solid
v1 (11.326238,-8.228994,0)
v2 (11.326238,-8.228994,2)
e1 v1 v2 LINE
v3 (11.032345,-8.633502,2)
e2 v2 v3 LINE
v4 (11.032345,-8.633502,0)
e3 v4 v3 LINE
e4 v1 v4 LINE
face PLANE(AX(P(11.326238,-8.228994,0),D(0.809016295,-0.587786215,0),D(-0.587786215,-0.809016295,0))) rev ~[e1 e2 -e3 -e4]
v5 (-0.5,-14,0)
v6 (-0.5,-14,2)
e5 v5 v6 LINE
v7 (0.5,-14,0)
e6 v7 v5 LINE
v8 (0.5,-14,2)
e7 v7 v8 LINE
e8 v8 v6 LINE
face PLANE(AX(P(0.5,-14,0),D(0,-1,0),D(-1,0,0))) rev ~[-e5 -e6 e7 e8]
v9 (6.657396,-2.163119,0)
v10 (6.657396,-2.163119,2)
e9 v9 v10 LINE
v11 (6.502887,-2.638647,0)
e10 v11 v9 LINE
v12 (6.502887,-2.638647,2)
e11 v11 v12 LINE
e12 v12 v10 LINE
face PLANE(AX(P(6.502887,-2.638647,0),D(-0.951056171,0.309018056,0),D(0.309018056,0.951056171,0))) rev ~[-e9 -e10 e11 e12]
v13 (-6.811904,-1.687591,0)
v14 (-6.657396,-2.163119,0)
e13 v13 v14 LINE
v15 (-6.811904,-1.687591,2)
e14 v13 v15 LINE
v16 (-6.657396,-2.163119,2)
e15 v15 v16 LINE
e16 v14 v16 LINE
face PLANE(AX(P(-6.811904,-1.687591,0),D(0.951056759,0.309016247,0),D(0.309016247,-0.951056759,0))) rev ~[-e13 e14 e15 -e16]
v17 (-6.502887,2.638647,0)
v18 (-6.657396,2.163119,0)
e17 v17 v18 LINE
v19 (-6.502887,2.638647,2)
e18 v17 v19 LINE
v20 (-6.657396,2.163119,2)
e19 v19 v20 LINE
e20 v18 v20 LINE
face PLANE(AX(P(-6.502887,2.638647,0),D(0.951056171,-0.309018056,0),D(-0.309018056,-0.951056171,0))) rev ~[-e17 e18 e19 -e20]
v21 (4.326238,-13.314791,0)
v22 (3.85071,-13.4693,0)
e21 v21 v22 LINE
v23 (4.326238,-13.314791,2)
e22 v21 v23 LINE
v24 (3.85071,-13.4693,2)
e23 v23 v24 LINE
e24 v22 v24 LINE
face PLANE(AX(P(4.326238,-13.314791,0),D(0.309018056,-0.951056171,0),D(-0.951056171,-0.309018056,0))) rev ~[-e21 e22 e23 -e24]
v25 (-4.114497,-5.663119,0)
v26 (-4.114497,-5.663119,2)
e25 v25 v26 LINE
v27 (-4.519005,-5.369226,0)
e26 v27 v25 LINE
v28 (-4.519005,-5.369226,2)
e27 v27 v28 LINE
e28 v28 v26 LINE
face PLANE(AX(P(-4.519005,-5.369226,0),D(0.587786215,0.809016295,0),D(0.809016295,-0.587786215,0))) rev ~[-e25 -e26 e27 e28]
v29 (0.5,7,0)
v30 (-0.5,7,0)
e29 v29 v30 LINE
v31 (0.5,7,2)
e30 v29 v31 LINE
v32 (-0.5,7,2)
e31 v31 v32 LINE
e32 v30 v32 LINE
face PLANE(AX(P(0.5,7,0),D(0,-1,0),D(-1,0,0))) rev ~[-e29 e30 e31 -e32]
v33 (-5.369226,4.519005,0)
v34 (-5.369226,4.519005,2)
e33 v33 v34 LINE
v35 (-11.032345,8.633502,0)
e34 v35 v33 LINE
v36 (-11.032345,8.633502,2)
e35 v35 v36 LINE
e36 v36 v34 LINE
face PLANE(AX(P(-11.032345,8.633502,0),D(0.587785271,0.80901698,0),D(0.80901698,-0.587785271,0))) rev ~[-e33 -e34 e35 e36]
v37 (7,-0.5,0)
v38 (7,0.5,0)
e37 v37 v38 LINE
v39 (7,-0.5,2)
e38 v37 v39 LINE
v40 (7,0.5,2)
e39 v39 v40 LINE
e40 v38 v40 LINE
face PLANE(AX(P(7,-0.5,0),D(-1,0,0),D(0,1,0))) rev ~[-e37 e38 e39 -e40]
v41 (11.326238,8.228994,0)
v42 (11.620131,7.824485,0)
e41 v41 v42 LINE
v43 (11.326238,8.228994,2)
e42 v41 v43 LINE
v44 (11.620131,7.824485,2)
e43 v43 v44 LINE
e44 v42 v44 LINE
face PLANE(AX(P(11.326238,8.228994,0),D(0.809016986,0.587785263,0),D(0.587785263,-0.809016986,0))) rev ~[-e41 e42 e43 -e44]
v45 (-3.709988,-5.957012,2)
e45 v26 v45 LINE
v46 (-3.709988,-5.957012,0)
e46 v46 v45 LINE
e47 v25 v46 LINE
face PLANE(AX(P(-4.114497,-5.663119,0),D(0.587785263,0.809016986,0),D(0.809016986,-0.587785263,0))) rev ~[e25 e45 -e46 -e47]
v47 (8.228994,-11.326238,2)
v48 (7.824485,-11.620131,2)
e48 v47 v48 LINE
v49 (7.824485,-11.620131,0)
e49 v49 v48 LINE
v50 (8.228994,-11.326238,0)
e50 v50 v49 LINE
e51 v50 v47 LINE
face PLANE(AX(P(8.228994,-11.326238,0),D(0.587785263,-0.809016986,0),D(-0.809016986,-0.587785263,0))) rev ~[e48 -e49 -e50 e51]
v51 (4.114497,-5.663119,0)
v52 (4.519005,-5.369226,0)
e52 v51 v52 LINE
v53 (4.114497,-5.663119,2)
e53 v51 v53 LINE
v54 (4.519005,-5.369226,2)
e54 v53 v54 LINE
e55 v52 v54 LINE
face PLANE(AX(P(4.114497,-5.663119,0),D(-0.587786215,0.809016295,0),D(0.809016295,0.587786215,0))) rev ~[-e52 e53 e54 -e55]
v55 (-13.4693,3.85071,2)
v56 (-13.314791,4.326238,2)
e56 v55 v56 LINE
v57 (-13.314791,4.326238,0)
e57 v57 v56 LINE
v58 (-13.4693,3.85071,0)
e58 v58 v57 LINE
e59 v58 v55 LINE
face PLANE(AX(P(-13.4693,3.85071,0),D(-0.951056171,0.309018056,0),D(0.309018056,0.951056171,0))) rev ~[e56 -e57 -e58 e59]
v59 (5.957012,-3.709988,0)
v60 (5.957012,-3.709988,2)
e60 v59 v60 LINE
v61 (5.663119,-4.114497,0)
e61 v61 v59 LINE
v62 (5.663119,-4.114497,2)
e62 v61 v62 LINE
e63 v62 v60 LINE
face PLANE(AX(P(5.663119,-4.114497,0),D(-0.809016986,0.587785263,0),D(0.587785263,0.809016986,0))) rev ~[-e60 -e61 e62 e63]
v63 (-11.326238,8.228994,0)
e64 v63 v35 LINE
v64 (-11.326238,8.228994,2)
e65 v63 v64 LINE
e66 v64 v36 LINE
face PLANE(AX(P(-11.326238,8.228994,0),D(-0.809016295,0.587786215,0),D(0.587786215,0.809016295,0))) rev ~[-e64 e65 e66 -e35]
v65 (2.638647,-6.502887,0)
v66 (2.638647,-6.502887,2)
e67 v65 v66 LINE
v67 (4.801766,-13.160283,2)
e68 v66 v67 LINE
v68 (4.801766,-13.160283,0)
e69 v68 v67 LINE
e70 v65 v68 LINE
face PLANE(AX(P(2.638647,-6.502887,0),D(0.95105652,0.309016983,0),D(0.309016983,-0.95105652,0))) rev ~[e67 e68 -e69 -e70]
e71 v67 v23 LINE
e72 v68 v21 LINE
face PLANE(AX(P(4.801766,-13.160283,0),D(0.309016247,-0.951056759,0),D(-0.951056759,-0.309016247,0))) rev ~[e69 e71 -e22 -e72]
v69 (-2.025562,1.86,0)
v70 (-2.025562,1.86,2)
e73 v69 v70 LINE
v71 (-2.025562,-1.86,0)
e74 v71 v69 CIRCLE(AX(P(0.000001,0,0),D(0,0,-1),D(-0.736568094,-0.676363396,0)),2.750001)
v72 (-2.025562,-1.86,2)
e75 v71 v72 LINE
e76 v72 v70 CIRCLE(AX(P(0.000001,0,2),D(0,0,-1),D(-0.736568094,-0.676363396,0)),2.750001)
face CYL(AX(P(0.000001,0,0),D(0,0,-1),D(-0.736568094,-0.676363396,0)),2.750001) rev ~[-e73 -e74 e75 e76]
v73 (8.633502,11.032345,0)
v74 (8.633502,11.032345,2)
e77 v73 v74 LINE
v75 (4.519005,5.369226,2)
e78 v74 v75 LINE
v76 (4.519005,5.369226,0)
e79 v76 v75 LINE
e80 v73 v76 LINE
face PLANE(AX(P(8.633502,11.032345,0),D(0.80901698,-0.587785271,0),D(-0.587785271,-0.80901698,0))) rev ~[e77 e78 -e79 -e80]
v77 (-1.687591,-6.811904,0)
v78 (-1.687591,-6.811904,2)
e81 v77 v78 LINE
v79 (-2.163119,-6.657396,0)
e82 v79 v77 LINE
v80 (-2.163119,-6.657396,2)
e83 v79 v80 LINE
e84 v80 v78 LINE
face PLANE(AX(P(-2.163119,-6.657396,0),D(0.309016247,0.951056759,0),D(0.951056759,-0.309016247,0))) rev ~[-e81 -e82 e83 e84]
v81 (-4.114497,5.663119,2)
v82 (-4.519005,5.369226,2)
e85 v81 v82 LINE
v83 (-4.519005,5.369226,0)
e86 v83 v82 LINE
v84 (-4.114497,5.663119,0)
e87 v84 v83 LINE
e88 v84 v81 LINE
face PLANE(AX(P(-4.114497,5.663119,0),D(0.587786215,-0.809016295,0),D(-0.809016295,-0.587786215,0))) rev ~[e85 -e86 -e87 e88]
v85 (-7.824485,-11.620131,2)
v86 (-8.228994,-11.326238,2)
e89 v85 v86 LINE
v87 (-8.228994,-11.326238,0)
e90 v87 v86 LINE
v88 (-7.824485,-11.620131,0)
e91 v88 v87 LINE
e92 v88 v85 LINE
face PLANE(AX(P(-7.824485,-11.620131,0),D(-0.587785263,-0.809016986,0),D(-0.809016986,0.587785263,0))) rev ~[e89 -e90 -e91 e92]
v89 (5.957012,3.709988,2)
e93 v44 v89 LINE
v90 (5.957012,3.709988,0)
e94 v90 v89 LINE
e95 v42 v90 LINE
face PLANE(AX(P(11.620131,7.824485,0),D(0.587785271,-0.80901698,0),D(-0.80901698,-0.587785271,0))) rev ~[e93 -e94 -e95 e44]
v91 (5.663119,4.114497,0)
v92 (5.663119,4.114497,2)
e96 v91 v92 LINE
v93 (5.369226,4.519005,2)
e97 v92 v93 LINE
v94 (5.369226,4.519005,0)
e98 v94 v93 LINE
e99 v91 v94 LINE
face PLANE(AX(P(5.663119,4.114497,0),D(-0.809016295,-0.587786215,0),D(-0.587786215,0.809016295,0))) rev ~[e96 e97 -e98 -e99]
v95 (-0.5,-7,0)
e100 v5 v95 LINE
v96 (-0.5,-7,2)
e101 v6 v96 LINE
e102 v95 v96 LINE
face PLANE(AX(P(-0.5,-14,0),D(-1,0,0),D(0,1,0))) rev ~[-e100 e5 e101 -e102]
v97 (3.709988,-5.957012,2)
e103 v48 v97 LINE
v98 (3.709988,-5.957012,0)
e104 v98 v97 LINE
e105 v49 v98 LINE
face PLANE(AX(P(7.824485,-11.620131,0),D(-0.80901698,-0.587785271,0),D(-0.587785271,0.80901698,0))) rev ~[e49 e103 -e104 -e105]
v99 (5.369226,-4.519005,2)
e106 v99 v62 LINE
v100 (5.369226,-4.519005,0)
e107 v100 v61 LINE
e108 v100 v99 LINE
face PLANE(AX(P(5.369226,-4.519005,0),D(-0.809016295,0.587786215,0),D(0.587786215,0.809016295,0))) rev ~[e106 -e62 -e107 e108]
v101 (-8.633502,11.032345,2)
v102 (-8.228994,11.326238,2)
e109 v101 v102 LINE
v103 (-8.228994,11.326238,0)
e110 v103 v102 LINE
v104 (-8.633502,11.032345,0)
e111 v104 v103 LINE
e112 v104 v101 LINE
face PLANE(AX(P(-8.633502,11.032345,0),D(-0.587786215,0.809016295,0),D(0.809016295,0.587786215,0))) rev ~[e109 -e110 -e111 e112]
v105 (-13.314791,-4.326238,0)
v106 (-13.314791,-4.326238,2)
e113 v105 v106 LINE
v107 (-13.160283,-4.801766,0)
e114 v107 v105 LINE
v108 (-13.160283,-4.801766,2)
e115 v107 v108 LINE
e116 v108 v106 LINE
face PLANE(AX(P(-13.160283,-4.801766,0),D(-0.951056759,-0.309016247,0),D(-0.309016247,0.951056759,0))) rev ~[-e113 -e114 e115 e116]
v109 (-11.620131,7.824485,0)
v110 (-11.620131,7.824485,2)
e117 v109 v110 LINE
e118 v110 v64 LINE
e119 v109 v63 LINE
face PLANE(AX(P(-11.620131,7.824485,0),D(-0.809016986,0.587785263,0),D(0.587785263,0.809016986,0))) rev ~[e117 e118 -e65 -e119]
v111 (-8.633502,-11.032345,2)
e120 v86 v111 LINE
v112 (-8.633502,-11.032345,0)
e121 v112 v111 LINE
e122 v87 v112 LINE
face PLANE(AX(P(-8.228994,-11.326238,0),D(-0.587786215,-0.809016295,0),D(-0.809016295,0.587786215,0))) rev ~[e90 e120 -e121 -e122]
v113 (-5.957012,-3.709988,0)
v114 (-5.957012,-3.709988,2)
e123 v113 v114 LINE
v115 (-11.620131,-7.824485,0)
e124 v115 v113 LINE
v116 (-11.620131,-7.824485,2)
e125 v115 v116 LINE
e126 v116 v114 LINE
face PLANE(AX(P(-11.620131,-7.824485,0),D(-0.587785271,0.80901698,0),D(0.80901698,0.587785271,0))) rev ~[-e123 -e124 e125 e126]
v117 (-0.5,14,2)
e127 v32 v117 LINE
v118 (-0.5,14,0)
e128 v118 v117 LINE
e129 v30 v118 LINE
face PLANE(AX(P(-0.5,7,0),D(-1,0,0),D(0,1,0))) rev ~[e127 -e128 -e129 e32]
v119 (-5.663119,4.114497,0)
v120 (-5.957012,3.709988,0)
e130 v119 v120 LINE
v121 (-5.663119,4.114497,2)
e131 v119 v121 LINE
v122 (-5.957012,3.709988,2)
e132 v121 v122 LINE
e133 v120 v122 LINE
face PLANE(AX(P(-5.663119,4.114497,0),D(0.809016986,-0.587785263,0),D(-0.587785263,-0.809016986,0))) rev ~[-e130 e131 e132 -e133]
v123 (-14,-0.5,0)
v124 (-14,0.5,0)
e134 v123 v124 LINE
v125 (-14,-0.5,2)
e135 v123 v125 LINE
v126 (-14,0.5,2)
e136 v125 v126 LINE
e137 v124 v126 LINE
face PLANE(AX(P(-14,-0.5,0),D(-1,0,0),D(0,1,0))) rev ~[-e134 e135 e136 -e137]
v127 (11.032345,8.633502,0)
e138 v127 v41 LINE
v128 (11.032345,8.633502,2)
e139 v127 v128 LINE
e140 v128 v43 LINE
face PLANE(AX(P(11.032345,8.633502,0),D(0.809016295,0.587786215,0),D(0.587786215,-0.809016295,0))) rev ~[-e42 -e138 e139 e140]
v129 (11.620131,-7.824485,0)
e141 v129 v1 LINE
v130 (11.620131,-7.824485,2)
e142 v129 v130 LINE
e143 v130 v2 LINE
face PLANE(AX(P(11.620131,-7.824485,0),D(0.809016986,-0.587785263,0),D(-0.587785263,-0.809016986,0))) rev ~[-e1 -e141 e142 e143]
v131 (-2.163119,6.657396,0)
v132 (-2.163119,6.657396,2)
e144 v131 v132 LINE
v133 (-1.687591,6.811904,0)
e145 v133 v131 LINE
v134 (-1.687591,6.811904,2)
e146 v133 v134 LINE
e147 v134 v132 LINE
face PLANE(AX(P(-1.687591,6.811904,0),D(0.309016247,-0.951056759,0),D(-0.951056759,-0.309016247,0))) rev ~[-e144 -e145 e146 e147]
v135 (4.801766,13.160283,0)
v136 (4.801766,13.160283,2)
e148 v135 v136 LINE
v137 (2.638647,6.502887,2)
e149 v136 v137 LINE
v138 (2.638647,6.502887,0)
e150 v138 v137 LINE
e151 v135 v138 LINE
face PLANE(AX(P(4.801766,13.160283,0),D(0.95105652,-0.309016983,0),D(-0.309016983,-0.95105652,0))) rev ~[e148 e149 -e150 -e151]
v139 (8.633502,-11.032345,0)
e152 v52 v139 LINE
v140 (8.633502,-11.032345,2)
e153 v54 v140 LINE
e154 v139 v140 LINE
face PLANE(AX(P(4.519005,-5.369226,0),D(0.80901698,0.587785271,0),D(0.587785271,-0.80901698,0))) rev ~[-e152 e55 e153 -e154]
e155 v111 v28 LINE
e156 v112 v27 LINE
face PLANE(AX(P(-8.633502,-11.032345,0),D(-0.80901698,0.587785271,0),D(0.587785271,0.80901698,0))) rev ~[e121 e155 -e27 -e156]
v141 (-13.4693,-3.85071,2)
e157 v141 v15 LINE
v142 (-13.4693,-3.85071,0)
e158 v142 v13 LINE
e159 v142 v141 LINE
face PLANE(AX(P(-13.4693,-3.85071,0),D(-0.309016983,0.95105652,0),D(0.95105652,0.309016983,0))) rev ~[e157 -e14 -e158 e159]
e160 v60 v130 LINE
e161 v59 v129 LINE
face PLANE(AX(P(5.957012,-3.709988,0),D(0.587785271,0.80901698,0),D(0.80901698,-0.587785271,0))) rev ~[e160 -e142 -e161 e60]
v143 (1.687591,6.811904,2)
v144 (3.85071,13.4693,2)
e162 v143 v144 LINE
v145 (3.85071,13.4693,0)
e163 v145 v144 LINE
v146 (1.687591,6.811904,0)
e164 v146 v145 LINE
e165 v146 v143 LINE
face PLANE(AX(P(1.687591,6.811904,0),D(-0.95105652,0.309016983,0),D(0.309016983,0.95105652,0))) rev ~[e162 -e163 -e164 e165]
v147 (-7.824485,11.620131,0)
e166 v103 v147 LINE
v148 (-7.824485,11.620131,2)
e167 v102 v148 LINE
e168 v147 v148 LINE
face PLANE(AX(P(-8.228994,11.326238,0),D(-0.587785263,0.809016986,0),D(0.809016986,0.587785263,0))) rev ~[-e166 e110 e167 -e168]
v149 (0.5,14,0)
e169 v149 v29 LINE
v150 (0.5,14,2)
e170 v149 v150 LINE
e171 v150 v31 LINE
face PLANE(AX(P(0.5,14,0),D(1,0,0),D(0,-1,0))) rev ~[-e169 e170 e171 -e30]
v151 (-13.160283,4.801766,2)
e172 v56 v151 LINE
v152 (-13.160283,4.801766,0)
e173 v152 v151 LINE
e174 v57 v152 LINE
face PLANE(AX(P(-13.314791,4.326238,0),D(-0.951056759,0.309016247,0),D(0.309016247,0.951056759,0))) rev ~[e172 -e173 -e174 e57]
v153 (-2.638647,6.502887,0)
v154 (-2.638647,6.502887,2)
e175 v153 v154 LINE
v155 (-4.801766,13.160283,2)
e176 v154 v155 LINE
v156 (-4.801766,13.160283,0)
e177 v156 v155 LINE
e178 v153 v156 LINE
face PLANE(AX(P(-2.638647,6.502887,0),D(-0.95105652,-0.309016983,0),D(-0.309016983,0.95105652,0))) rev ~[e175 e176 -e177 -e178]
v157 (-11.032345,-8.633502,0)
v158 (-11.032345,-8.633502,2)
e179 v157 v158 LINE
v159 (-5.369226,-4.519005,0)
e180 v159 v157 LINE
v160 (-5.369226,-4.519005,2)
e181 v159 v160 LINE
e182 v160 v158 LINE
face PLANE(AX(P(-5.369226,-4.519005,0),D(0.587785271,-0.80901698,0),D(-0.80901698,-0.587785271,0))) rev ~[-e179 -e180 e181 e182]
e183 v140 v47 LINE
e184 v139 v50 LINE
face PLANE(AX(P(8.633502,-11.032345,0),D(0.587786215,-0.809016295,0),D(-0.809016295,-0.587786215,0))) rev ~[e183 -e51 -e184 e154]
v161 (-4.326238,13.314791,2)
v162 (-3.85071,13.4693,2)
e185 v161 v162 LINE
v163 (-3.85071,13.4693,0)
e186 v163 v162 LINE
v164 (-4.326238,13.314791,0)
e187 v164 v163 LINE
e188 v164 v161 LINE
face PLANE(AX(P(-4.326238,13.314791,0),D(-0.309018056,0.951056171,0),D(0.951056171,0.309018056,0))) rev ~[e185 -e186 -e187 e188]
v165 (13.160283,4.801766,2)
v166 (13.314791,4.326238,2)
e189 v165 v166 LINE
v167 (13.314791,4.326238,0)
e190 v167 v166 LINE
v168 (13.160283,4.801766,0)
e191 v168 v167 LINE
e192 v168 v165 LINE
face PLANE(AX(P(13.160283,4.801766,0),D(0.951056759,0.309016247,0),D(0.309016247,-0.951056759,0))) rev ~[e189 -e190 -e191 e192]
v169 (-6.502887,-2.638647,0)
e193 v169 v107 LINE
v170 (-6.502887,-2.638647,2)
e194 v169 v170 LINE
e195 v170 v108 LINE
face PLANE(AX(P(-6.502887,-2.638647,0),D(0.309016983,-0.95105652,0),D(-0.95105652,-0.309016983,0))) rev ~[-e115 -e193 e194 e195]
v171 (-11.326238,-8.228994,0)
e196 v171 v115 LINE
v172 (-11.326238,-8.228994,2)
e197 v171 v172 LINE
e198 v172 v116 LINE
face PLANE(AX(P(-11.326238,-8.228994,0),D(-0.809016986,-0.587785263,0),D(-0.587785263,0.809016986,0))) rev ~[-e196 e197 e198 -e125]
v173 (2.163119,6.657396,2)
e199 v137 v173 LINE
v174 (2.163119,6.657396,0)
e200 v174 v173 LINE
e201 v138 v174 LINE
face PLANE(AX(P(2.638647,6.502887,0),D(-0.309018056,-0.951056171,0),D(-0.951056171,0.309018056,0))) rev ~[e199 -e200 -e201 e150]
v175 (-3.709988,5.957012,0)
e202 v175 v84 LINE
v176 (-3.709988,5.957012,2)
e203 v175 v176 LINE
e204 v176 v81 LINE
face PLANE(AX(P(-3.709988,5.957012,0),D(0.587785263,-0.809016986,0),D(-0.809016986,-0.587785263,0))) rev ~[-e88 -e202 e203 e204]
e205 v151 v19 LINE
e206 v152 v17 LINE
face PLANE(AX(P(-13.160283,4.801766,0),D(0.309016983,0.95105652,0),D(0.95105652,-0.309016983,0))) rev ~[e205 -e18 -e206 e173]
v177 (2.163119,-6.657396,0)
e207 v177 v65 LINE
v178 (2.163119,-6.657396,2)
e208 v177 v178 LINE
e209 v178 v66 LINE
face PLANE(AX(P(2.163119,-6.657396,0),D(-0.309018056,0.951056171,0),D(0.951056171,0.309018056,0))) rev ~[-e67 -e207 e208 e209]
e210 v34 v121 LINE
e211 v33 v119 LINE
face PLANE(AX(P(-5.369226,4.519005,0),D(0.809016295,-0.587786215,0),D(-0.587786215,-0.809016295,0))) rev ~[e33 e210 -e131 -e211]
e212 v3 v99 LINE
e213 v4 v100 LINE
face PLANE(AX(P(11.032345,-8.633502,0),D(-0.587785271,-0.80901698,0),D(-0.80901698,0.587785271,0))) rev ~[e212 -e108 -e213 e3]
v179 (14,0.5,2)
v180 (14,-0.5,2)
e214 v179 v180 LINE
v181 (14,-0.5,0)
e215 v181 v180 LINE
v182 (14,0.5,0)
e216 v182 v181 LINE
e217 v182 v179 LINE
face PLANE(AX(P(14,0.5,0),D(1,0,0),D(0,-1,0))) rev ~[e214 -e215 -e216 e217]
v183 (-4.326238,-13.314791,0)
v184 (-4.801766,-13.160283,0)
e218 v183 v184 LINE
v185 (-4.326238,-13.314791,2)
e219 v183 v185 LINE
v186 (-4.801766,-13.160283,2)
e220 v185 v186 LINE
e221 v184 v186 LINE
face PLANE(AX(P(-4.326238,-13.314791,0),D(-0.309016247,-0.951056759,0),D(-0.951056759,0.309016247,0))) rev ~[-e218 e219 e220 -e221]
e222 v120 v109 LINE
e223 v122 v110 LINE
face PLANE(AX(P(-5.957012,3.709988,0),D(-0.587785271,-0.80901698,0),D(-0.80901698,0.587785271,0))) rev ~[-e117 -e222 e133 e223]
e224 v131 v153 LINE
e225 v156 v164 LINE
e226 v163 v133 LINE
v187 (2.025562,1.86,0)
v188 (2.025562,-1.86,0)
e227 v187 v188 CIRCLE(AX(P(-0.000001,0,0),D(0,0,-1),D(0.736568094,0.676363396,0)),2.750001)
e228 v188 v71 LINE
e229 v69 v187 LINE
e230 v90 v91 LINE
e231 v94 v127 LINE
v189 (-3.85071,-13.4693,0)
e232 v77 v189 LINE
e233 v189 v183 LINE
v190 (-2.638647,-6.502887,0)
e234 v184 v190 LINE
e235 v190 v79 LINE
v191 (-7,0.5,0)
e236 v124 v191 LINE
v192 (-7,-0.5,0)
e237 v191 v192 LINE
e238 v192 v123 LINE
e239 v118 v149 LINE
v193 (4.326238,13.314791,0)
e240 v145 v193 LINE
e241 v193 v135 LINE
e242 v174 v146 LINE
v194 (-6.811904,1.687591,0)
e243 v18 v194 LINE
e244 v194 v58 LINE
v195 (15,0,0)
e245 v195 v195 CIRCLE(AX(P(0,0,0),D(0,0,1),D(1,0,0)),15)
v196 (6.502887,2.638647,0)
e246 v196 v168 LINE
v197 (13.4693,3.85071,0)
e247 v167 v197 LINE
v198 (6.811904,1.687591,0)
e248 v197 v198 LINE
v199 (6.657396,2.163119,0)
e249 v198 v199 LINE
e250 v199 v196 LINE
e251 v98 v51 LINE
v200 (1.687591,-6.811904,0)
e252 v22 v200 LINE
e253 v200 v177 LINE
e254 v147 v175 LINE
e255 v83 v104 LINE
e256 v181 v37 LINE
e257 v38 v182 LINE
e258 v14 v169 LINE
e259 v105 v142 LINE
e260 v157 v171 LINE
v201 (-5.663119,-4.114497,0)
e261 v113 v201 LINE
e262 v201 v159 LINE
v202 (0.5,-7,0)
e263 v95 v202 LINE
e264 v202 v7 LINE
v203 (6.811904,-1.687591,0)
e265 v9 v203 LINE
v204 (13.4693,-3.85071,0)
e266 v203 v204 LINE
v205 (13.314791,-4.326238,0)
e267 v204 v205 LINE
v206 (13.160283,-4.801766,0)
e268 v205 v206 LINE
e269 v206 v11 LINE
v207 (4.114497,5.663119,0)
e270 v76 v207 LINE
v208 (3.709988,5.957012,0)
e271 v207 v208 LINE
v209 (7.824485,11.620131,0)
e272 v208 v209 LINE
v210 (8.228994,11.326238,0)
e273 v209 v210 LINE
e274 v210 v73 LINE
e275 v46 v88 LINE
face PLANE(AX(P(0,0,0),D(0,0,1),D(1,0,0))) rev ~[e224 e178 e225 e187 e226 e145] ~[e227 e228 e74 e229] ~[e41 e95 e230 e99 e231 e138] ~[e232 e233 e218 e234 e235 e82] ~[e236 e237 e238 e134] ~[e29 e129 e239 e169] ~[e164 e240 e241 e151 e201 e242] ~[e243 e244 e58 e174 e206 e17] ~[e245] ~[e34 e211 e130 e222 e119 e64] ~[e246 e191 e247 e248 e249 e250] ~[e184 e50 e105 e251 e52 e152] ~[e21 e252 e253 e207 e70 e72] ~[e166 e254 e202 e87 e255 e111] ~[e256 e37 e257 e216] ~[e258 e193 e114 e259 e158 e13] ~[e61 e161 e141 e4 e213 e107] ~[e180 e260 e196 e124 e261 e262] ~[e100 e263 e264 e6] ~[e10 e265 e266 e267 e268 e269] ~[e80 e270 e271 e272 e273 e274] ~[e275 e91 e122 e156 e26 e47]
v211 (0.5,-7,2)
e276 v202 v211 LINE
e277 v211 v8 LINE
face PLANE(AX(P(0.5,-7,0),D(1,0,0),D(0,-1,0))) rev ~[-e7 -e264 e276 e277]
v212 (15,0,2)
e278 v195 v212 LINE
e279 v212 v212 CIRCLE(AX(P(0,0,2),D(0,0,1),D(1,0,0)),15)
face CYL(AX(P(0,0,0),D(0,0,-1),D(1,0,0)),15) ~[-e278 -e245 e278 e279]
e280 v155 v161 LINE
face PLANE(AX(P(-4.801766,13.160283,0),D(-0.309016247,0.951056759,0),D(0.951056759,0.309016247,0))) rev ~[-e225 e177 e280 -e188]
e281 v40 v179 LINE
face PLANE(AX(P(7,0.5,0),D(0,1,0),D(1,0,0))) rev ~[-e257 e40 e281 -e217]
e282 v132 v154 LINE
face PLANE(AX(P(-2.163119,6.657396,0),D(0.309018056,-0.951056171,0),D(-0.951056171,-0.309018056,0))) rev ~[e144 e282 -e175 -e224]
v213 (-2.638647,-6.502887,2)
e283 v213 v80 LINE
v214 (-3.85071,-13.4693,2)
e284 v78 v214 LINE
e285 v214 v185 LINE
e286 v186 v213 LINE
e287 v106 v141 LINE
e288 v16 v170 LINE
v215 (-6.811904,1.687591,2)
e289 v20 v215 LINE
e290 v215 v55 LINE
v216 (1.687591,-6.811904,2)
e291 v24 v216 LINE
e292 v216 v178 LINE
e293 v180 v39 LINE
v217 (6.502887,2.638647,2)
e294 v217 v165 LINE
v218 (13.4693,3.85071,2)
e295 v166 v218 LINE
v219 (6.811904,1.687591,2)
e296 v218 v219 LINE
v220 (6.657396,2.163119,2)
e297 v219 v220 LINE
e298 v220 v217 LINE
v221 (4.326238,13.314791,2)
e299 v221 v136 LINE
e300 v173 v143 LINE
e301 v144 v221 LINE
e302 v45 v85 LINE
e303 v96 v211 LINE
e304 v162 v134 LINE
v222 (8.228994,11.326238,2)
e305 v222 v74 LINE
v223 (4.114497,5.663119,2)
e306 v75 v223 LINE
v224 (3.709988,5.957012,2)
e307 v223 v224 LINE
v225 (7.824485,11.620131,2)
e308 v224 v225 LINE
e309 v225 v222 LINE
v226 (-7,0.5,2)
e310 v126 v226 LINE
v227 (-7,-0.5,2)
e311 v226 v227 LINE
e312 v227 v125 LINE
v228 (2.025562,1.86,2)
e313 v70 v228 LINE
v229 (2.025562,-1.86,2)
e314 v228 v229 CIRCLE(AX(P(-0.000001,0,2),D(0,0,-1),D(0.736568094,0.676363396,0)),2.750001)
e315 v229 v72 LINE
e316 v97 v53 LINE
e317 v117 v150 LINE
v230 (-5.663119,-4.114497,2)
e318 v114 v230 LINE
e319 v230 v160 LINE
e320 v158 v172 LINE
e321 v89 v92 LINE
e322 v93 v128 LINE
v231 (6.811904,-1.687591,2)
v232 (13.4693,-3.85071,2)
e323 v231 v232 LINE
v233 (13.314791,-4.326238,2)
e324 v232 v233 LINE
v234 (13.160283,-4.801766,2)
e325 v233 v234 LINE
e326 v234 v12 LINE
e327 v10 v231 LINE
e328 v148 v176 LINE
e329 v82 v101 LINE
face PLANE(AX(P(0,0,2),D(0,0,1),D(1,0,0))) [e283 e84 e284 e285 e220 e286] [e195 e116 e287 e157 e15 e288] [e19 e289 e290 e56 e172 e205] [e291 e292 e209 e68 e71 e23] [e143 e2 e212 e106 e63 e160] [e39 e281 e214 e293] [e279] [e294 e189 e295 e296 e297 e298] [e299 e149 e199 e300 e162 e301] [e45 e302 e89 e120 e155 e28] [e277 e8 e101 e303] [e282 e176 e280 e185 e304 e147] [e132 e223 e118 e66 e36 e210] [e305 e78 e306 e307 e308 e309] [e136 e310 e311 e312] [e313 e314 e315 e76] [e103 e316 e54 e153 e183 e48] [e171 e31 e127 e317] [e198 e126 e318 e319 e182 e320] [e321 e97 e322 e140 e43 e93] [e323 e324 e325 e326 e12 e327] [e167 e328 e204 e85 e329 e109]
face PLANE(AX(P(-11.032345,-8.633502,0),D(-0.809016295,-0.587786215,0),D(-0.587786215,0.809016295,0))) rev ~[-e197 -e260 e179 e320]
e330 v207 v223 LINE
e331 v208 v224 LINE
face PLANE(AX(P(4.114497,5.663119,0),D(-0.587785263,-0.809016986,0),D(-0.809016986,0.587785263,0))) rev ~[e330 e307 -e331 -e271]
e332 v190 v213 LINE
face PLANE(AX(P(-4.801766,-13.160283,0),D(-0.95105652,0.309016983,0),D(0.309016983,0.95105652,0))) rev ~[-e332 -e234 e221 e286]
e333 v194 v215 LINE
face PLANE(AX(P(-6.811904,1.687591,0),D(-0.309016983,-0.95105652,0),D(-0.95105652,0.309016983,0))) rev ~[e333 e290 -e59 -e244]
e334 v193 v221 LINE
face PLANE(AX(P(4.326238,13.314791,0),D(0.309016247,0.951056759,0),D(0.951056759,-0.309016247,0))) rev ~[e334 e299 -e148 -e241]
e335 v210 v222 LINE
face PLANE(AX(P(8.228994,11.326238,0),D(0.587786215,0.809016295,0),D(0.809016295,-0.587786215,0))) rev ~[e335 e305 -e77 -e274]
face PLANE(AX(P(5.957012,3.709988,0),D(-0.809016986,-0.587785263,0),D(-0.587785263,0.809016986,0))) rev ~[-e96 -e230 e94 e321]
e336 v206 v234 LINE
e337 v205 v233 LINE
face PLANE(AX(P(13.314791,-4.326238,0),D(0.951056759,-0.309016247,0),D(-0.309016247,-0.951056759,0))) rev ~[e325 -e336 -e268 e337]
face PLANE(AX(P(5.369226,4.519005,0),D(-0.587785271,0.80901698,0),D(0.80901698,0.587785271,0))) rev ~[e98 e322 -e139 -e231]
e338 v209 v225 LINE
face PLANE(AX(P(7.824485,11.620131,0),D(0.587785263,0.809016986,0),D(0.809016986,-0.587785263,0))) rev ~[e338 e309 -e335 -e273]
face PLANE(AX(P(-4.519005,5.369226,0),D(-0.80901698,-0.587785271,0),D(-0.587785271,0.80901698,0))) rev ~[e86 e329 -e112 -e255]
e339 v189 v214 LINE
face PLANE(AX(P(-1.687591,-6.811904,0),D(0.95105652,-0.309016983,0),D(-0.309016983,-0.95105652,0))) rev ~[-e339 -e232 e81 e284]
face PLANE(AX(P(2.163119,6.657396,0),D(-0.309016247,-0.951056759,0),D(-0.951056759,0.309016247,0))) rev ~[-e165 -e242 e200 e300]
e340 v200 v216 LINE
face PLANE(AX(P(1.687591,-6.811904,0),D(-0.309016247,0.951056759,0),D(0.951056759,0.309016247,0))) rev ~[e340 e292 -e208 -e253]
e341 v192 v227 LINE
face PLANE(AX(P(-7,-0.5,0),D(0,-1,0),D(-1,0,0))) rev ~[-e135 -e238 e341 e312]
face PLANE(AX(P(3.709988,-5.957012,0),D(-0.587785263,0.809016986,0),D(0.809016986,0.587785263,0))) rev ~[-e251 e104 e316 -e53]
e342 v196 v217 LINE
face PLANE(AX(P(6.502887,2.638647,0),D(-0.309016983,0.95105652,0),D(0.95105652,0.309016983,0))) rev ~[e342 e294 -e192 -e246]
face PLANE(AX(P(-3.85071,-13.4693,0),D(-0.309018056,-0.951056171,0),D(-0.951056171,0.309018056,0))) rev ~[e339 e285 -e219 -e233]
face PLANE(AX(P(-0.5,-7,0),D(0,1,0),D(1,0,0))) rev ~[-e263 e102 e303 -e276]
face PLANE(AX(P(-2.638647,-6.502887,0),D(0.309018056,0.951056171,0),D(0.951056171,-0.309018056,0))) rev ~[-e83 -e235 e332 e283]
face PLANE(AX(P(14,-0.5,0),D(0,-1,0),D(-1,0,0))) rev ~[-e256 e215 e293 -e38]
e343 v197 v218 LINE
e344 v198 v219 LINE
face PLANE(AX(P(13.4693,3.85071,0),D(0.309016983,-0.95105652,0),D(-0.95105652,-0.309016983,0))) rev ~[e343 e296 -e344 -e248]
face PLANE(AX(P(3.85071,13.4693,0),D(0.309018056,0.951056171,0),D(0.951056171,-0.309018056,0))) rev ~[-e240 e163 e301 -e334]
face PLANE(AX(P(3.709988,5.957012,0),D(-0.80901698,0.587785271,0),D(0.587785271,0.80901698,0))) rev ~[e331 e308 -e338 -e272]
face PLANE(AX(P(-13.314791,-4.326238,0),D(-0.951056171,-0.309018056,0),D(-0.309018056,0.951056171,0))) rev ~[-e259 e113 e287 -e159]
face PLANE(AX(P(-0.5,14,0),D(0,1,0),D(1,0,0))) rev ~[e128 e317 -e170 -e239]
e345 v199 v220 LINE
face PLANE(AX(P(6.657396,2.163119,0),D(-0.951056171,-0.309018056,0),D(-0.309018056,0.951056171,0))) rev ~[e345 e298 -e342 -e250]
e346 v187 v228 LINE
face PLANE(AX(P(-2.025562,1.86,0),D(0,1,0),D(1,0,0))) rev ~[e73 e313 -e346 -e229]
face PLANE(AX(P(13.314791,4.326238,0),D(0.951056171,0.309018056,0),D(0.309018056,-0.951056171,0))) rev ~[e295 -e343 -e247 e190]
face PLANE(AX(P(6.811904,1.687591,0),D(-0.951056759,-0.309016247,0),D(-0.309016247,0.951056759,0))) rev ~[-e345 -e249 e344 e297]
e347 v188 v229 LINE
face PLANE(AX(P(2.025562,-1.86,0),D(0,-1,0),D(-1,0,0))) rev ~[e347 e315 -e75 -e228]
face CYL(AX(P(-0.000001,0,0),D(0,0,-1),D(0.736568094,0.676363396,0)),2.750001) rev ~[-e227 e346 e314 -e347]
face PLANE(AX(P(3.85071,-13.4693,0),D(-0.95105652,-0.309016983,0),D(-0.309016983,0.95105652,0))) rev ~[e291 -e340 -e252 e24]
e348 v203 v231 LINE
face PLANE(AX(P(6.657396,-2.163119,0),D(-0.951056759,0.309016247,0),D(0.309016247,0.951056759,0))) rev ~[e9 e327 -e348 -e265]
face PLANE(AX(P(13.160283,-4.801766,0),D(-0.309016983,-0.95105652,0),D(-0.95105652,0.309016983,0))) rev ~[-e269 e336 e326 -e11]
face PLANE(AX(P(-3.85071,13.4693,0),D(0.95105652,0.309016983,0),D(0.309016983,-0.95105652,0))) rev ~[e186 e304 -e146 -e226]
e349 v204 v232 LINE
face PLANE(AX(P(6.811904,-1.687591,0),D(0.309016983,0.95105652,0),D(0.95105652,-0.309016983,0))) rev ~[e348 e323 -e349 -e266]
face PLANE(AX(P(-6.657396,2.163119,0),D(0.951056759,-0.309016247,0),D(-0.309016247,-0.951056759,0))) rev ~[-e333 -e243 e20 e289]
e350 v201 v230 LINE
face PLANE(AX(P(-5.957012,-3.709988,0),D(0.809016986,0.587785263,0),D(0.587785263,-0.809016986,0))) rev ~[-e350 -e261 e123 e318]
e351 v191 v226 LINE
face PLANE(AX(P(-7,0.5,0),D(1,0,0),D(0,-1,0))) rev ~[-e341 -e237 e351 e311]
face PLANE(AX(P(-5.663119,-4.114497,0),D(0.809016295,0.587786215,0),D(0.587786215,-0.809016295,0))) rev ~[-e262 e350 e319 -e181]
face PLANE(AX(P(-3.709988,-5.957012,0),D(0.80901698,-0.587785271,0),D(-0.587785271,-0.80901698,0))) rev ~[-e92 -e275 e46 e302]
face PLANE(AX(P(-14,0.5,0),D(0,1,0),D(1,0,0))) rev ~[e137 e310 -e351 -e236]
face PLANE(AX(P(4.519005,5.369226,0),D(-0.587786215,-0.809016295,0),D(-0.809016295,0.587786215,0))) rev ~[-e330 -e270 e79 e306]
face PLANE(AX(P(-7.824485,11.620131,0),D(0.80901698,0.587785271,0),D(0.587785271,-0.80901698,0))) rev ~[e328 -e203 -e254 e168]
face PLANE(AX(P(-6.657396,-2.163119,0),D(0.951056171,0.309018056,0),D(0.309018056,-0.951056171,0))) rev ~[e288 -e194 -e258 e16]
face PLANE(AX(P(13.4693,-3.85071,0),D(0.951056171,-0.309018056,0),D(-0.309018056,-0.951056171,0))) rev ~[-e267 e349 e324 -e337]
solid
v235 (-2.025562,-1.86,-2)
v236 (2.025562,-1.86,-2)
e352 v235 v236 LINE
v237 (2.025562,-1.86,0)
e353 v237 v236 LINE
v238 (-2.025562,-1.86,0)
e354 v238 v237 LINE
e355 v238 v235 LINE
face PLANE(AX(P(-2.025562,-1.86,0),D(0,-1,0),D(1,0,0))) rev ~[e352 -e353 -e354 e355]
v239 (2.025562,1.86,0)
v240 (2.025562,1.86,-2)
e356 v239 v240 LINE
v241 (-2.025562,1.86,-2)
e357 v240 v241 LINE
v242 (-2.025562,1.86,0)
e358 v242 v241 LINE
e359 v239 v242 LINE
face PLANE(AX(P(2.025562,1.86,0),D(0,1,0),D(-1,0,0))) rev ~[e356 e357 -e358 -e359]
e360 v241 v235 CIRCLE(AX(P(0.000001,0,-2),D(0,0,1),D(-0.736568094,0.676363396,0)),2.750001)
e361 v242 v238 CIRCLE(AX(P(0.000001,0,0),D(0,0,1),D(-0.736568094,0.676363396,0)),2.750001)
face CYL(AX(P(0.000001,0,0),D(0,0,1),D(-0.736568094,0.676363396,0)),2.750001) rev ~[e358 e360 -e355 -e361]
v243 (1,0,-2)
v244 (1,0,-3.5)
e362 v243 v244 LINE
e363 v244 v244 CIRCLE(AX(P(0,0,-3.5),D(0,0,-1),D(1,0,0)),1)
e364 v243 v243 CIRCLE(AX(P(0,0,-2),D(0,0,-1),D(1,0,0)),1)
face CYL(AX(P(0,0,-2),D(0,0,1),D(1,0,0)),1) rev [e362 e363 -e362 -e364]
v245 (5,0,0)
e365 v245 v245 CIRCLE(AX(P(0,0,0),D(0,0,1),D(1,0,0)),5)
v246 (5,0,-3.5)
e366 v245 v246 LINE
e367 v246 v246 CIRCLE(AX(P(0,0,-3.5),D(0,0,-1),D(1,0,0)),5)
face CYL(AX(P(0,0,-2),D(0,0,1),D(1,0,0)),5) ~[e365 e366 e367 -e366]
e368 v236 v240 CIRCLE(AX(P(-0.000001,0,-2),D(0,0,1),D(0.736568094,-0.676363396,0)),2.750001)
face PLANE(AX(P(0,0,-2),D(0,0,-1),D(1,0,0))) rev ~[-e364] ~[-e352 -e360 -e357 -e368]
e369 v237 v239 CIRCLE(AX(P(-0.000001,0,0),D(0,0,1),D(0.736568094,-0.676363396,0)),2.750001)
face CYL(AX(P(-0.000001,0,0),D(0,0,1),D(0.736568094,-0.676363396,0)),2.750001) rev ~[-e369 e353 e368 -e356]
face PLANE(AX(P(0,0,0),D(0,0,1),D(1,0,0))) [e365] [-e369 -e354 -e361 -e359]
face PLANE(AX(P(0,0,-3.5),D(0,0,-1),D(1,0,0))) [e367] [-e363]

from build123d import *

# Parameters (mm, degrees)
F0_R     = 15
F1_DEPTH = 2
F2_R     = 5
F3_DEPTH = 2
F4_DEPTH = 2
F5_R     = 5
F5_R_2   = 1
F6_DEPTH = 1.5


with BuildPart() as f1:
    # F0 (on Top) → F1 (new body)
    with BuildSketch(Plane.XY):
        Circle(F0_R)
        Polygon((-8.633502, -11.032345), (-4.519005, -5.369226), (-4.114497, -5.663119), (-3.709988, -5.957012), (-7.824485, -11.620131), (-8.228994, -11.326238), align=None, mode=Mode.SUBTRACT)
        Polygon((-4.801766, -13.160283), (-2.638647, -6.502887), (-2.163119, -6.657396), (-1.687591, -6.811904), (-3.85071, -13.4693), (-4.326238, -13.314791), align=None, mode=Mode.SUBTRACT)
        Polygon((-11.620131, -7.824485), (-5.957012, -3.709988), (-5.663119, -4.114497), (-5.369226, -4.519005), (-11.032345, -8.633502), (-11.326238, -8.228994), align=None, mode=Mode.SUBTRACT)
        Polygon((-13.4693, -3.85071), (-6.811904, -1.687591), (-6.657396, -2.163119), (-6.502887, -2.638647), (-13.160283, -4.801766), (-13.314791, -4.326238), align=None, mode=Mode.SUBTRACT)
        Polygon((-0.5, -7), (0, -7), (0.5, -7), (0.5, -14), (0, -14), (-0.5, -14), align=None, mode=Mode.SUBTRACT)
        Polygon((3.85071, -13.4693), (1.687591, -6.811904), (2.163119, -6.657396), (2.638647, -6.502887), (4.801766, -13.160283), (4.326238, -13.314791), align=None, mode=Mode.SUBTRACT)
        Polygon((7.824485, -11.620131), (3.709988, -5.957012), (4.114497, -5.663119), (4.519005, -5.369226), (8.633502, -11.032345), (8.228994, -11.326238), align=None, mode=Mode.SUBTRACT)
        Polygon((11.032345, -8.633502), (5.369226, -4.519005), (5.663119, -4.114497), (5.957012, -3.709988), (11.620131, -7.824485), (11.326238, -8.228994), align=None, mode=Mode.SUBTRACT)
        Polygon((13.160283, -4.801766), (6.502887, -2.638647), (6.657396, -2.163119), (6.811904, -1.687591), (13.4693, -3.85071), (13.314791, -4.326238), align=None, mode=Mode.SUBTRACT)
        Polygon((-14, 0.5), (-7, 0.5), (-7, 0), (-7, -0.5), (-14, -0.5), (-14, 0), align=None, mode=Mode.SUBTRACT)
        Polygon((-13.160283, 4.801766), (-6.502887, 2.638647), (-6.657396, 2.163119), (-6.811904, 1.687591), (-13.4693, 3.85071), (-13.314791, 4.326238), align=None, mode=Mode.SUBTRACT)
        Polygon((-11.032345, 8.633502), (-5.369226, 4.519005), (-5.663119, 4.114497), (-5.957012, 3.709988), (-11.620131, 7.824485), (-11.326238, 8.228994), align=None, mode=Mode.SUBTRACT)
        Polygon((-7.824485, 11.620131), (-3.709988, 5.957012), (-4.114497, 5.663119), (-4.519005, 5.369226), (-8.633502, 11.032345), (-8.228994, 11.326238), align=None, mode=Mode.SUBTRACT)
        Polygon((-3.85071, 13.4693), (-1.687591, 6.811904), (-2.163119, 6.657396), (-2.638647, 6.502887), (-4.801766, 13.160283), (-4.326238, 13.314791), align=None, mode=Mode.SUBTRACT)
        with BuildLine():
            ThreePointArc((-2.025562, -1.86), (-2.75, 0), (-2.025562, 1.86))
            Line((-2.025562, 1.86), (2.025562, 1.86))
            ThreePointArc((2.025562, 1.86), (2.75, 0), (2.025562, -1.86))
            Line((2.025562, -1.86), (-2.025562, -1.86))
        make_face(mode=Mode.SUBTRACT)
        Polygon((14, -0.5), (7, -0.5), (7, 0), (7, 0.5), (14, 0.5), (14, 0), align=None, mode=Mode.SUBTRACT)
        Polygon((13.4693, 3.85071), (6.811904, 1.687591), (6.657396, 2.163119), (6.502887, 2.638647), (13.160283, 4.801766), (13.314791, 4.326238), align=None, mode=Mode.SUBTRACT)
        Polygon((11.620131, 7.824485), (5.957012, 3.709988), (5.663119, 4.114497), (5.369226, 4.519005), (11.032345, 8.633502), (11.326238, 8.228994), align=None, mode=Mode.SUBTRACT)
        Polygon((0.5, 14), (0.5, 7), (0, 7), (-0.5, 7), (-0.5, 14), (0, 14), align=None, mode=Mode.SUBTRACT)
        Polygon((4.801766, 13.160283), (2.638647, 6.502887), (2.163119, 6.657396), (1.687591, 6.811904), (3.85071, 13.4693), (4.326238, 13.314791), align=None, mode=Mode.SUBTRACT)
        Polygon((8.633502, 11.032345), (4.519005, 5.369226), (4.114497, 5.663119), (3.709988, 5.957012), (7.824485, 11.620131), (8.228994, 11.326238), align=None, mode=Mode.SUBTRACT)
    extrude(amount=F1_DEPTH)


with BuildPart() as f3:
    # F2 (on Top) → F3 (new body)
    with BuildSketch(Plane.XY):
        Circle(F2_R)
    extrude(amount=-F3_DEPTH)

    # F0 (on Top) → F4 (cut)
    with BuildSketch(Plane.XY):
        with BuildLine():
            Line((2.025562, 1.86), (-2.025562, 1.86))
            ThreePointArc((-2.025562, 1.86), (-2.75, 0), (-2.025562, -1.86))
            Line((-2.025562, -1.86), (2.025562, -1.86))
            ThreePointArc((2.025562, -1.86), (2.75, 0), (2.025562, 1.86))
        make_face()
    extrude(amount=-F4_DEPTH, mode=Mode.SUBTRACT)

    # F5 (on face) → F6 (join)
    with BuildSketch(Plane(origin=(0, 0, -2), x_dir=(1, 0, 0), z_dir=(0, 0, -1))):
        Circle(F5_R)
        Circle(F5_R_2, mode=Mode.SUBTRACT)
    extrude(amount=F6_DEPTH)


solid = Compound([f1.part, f3.part])
